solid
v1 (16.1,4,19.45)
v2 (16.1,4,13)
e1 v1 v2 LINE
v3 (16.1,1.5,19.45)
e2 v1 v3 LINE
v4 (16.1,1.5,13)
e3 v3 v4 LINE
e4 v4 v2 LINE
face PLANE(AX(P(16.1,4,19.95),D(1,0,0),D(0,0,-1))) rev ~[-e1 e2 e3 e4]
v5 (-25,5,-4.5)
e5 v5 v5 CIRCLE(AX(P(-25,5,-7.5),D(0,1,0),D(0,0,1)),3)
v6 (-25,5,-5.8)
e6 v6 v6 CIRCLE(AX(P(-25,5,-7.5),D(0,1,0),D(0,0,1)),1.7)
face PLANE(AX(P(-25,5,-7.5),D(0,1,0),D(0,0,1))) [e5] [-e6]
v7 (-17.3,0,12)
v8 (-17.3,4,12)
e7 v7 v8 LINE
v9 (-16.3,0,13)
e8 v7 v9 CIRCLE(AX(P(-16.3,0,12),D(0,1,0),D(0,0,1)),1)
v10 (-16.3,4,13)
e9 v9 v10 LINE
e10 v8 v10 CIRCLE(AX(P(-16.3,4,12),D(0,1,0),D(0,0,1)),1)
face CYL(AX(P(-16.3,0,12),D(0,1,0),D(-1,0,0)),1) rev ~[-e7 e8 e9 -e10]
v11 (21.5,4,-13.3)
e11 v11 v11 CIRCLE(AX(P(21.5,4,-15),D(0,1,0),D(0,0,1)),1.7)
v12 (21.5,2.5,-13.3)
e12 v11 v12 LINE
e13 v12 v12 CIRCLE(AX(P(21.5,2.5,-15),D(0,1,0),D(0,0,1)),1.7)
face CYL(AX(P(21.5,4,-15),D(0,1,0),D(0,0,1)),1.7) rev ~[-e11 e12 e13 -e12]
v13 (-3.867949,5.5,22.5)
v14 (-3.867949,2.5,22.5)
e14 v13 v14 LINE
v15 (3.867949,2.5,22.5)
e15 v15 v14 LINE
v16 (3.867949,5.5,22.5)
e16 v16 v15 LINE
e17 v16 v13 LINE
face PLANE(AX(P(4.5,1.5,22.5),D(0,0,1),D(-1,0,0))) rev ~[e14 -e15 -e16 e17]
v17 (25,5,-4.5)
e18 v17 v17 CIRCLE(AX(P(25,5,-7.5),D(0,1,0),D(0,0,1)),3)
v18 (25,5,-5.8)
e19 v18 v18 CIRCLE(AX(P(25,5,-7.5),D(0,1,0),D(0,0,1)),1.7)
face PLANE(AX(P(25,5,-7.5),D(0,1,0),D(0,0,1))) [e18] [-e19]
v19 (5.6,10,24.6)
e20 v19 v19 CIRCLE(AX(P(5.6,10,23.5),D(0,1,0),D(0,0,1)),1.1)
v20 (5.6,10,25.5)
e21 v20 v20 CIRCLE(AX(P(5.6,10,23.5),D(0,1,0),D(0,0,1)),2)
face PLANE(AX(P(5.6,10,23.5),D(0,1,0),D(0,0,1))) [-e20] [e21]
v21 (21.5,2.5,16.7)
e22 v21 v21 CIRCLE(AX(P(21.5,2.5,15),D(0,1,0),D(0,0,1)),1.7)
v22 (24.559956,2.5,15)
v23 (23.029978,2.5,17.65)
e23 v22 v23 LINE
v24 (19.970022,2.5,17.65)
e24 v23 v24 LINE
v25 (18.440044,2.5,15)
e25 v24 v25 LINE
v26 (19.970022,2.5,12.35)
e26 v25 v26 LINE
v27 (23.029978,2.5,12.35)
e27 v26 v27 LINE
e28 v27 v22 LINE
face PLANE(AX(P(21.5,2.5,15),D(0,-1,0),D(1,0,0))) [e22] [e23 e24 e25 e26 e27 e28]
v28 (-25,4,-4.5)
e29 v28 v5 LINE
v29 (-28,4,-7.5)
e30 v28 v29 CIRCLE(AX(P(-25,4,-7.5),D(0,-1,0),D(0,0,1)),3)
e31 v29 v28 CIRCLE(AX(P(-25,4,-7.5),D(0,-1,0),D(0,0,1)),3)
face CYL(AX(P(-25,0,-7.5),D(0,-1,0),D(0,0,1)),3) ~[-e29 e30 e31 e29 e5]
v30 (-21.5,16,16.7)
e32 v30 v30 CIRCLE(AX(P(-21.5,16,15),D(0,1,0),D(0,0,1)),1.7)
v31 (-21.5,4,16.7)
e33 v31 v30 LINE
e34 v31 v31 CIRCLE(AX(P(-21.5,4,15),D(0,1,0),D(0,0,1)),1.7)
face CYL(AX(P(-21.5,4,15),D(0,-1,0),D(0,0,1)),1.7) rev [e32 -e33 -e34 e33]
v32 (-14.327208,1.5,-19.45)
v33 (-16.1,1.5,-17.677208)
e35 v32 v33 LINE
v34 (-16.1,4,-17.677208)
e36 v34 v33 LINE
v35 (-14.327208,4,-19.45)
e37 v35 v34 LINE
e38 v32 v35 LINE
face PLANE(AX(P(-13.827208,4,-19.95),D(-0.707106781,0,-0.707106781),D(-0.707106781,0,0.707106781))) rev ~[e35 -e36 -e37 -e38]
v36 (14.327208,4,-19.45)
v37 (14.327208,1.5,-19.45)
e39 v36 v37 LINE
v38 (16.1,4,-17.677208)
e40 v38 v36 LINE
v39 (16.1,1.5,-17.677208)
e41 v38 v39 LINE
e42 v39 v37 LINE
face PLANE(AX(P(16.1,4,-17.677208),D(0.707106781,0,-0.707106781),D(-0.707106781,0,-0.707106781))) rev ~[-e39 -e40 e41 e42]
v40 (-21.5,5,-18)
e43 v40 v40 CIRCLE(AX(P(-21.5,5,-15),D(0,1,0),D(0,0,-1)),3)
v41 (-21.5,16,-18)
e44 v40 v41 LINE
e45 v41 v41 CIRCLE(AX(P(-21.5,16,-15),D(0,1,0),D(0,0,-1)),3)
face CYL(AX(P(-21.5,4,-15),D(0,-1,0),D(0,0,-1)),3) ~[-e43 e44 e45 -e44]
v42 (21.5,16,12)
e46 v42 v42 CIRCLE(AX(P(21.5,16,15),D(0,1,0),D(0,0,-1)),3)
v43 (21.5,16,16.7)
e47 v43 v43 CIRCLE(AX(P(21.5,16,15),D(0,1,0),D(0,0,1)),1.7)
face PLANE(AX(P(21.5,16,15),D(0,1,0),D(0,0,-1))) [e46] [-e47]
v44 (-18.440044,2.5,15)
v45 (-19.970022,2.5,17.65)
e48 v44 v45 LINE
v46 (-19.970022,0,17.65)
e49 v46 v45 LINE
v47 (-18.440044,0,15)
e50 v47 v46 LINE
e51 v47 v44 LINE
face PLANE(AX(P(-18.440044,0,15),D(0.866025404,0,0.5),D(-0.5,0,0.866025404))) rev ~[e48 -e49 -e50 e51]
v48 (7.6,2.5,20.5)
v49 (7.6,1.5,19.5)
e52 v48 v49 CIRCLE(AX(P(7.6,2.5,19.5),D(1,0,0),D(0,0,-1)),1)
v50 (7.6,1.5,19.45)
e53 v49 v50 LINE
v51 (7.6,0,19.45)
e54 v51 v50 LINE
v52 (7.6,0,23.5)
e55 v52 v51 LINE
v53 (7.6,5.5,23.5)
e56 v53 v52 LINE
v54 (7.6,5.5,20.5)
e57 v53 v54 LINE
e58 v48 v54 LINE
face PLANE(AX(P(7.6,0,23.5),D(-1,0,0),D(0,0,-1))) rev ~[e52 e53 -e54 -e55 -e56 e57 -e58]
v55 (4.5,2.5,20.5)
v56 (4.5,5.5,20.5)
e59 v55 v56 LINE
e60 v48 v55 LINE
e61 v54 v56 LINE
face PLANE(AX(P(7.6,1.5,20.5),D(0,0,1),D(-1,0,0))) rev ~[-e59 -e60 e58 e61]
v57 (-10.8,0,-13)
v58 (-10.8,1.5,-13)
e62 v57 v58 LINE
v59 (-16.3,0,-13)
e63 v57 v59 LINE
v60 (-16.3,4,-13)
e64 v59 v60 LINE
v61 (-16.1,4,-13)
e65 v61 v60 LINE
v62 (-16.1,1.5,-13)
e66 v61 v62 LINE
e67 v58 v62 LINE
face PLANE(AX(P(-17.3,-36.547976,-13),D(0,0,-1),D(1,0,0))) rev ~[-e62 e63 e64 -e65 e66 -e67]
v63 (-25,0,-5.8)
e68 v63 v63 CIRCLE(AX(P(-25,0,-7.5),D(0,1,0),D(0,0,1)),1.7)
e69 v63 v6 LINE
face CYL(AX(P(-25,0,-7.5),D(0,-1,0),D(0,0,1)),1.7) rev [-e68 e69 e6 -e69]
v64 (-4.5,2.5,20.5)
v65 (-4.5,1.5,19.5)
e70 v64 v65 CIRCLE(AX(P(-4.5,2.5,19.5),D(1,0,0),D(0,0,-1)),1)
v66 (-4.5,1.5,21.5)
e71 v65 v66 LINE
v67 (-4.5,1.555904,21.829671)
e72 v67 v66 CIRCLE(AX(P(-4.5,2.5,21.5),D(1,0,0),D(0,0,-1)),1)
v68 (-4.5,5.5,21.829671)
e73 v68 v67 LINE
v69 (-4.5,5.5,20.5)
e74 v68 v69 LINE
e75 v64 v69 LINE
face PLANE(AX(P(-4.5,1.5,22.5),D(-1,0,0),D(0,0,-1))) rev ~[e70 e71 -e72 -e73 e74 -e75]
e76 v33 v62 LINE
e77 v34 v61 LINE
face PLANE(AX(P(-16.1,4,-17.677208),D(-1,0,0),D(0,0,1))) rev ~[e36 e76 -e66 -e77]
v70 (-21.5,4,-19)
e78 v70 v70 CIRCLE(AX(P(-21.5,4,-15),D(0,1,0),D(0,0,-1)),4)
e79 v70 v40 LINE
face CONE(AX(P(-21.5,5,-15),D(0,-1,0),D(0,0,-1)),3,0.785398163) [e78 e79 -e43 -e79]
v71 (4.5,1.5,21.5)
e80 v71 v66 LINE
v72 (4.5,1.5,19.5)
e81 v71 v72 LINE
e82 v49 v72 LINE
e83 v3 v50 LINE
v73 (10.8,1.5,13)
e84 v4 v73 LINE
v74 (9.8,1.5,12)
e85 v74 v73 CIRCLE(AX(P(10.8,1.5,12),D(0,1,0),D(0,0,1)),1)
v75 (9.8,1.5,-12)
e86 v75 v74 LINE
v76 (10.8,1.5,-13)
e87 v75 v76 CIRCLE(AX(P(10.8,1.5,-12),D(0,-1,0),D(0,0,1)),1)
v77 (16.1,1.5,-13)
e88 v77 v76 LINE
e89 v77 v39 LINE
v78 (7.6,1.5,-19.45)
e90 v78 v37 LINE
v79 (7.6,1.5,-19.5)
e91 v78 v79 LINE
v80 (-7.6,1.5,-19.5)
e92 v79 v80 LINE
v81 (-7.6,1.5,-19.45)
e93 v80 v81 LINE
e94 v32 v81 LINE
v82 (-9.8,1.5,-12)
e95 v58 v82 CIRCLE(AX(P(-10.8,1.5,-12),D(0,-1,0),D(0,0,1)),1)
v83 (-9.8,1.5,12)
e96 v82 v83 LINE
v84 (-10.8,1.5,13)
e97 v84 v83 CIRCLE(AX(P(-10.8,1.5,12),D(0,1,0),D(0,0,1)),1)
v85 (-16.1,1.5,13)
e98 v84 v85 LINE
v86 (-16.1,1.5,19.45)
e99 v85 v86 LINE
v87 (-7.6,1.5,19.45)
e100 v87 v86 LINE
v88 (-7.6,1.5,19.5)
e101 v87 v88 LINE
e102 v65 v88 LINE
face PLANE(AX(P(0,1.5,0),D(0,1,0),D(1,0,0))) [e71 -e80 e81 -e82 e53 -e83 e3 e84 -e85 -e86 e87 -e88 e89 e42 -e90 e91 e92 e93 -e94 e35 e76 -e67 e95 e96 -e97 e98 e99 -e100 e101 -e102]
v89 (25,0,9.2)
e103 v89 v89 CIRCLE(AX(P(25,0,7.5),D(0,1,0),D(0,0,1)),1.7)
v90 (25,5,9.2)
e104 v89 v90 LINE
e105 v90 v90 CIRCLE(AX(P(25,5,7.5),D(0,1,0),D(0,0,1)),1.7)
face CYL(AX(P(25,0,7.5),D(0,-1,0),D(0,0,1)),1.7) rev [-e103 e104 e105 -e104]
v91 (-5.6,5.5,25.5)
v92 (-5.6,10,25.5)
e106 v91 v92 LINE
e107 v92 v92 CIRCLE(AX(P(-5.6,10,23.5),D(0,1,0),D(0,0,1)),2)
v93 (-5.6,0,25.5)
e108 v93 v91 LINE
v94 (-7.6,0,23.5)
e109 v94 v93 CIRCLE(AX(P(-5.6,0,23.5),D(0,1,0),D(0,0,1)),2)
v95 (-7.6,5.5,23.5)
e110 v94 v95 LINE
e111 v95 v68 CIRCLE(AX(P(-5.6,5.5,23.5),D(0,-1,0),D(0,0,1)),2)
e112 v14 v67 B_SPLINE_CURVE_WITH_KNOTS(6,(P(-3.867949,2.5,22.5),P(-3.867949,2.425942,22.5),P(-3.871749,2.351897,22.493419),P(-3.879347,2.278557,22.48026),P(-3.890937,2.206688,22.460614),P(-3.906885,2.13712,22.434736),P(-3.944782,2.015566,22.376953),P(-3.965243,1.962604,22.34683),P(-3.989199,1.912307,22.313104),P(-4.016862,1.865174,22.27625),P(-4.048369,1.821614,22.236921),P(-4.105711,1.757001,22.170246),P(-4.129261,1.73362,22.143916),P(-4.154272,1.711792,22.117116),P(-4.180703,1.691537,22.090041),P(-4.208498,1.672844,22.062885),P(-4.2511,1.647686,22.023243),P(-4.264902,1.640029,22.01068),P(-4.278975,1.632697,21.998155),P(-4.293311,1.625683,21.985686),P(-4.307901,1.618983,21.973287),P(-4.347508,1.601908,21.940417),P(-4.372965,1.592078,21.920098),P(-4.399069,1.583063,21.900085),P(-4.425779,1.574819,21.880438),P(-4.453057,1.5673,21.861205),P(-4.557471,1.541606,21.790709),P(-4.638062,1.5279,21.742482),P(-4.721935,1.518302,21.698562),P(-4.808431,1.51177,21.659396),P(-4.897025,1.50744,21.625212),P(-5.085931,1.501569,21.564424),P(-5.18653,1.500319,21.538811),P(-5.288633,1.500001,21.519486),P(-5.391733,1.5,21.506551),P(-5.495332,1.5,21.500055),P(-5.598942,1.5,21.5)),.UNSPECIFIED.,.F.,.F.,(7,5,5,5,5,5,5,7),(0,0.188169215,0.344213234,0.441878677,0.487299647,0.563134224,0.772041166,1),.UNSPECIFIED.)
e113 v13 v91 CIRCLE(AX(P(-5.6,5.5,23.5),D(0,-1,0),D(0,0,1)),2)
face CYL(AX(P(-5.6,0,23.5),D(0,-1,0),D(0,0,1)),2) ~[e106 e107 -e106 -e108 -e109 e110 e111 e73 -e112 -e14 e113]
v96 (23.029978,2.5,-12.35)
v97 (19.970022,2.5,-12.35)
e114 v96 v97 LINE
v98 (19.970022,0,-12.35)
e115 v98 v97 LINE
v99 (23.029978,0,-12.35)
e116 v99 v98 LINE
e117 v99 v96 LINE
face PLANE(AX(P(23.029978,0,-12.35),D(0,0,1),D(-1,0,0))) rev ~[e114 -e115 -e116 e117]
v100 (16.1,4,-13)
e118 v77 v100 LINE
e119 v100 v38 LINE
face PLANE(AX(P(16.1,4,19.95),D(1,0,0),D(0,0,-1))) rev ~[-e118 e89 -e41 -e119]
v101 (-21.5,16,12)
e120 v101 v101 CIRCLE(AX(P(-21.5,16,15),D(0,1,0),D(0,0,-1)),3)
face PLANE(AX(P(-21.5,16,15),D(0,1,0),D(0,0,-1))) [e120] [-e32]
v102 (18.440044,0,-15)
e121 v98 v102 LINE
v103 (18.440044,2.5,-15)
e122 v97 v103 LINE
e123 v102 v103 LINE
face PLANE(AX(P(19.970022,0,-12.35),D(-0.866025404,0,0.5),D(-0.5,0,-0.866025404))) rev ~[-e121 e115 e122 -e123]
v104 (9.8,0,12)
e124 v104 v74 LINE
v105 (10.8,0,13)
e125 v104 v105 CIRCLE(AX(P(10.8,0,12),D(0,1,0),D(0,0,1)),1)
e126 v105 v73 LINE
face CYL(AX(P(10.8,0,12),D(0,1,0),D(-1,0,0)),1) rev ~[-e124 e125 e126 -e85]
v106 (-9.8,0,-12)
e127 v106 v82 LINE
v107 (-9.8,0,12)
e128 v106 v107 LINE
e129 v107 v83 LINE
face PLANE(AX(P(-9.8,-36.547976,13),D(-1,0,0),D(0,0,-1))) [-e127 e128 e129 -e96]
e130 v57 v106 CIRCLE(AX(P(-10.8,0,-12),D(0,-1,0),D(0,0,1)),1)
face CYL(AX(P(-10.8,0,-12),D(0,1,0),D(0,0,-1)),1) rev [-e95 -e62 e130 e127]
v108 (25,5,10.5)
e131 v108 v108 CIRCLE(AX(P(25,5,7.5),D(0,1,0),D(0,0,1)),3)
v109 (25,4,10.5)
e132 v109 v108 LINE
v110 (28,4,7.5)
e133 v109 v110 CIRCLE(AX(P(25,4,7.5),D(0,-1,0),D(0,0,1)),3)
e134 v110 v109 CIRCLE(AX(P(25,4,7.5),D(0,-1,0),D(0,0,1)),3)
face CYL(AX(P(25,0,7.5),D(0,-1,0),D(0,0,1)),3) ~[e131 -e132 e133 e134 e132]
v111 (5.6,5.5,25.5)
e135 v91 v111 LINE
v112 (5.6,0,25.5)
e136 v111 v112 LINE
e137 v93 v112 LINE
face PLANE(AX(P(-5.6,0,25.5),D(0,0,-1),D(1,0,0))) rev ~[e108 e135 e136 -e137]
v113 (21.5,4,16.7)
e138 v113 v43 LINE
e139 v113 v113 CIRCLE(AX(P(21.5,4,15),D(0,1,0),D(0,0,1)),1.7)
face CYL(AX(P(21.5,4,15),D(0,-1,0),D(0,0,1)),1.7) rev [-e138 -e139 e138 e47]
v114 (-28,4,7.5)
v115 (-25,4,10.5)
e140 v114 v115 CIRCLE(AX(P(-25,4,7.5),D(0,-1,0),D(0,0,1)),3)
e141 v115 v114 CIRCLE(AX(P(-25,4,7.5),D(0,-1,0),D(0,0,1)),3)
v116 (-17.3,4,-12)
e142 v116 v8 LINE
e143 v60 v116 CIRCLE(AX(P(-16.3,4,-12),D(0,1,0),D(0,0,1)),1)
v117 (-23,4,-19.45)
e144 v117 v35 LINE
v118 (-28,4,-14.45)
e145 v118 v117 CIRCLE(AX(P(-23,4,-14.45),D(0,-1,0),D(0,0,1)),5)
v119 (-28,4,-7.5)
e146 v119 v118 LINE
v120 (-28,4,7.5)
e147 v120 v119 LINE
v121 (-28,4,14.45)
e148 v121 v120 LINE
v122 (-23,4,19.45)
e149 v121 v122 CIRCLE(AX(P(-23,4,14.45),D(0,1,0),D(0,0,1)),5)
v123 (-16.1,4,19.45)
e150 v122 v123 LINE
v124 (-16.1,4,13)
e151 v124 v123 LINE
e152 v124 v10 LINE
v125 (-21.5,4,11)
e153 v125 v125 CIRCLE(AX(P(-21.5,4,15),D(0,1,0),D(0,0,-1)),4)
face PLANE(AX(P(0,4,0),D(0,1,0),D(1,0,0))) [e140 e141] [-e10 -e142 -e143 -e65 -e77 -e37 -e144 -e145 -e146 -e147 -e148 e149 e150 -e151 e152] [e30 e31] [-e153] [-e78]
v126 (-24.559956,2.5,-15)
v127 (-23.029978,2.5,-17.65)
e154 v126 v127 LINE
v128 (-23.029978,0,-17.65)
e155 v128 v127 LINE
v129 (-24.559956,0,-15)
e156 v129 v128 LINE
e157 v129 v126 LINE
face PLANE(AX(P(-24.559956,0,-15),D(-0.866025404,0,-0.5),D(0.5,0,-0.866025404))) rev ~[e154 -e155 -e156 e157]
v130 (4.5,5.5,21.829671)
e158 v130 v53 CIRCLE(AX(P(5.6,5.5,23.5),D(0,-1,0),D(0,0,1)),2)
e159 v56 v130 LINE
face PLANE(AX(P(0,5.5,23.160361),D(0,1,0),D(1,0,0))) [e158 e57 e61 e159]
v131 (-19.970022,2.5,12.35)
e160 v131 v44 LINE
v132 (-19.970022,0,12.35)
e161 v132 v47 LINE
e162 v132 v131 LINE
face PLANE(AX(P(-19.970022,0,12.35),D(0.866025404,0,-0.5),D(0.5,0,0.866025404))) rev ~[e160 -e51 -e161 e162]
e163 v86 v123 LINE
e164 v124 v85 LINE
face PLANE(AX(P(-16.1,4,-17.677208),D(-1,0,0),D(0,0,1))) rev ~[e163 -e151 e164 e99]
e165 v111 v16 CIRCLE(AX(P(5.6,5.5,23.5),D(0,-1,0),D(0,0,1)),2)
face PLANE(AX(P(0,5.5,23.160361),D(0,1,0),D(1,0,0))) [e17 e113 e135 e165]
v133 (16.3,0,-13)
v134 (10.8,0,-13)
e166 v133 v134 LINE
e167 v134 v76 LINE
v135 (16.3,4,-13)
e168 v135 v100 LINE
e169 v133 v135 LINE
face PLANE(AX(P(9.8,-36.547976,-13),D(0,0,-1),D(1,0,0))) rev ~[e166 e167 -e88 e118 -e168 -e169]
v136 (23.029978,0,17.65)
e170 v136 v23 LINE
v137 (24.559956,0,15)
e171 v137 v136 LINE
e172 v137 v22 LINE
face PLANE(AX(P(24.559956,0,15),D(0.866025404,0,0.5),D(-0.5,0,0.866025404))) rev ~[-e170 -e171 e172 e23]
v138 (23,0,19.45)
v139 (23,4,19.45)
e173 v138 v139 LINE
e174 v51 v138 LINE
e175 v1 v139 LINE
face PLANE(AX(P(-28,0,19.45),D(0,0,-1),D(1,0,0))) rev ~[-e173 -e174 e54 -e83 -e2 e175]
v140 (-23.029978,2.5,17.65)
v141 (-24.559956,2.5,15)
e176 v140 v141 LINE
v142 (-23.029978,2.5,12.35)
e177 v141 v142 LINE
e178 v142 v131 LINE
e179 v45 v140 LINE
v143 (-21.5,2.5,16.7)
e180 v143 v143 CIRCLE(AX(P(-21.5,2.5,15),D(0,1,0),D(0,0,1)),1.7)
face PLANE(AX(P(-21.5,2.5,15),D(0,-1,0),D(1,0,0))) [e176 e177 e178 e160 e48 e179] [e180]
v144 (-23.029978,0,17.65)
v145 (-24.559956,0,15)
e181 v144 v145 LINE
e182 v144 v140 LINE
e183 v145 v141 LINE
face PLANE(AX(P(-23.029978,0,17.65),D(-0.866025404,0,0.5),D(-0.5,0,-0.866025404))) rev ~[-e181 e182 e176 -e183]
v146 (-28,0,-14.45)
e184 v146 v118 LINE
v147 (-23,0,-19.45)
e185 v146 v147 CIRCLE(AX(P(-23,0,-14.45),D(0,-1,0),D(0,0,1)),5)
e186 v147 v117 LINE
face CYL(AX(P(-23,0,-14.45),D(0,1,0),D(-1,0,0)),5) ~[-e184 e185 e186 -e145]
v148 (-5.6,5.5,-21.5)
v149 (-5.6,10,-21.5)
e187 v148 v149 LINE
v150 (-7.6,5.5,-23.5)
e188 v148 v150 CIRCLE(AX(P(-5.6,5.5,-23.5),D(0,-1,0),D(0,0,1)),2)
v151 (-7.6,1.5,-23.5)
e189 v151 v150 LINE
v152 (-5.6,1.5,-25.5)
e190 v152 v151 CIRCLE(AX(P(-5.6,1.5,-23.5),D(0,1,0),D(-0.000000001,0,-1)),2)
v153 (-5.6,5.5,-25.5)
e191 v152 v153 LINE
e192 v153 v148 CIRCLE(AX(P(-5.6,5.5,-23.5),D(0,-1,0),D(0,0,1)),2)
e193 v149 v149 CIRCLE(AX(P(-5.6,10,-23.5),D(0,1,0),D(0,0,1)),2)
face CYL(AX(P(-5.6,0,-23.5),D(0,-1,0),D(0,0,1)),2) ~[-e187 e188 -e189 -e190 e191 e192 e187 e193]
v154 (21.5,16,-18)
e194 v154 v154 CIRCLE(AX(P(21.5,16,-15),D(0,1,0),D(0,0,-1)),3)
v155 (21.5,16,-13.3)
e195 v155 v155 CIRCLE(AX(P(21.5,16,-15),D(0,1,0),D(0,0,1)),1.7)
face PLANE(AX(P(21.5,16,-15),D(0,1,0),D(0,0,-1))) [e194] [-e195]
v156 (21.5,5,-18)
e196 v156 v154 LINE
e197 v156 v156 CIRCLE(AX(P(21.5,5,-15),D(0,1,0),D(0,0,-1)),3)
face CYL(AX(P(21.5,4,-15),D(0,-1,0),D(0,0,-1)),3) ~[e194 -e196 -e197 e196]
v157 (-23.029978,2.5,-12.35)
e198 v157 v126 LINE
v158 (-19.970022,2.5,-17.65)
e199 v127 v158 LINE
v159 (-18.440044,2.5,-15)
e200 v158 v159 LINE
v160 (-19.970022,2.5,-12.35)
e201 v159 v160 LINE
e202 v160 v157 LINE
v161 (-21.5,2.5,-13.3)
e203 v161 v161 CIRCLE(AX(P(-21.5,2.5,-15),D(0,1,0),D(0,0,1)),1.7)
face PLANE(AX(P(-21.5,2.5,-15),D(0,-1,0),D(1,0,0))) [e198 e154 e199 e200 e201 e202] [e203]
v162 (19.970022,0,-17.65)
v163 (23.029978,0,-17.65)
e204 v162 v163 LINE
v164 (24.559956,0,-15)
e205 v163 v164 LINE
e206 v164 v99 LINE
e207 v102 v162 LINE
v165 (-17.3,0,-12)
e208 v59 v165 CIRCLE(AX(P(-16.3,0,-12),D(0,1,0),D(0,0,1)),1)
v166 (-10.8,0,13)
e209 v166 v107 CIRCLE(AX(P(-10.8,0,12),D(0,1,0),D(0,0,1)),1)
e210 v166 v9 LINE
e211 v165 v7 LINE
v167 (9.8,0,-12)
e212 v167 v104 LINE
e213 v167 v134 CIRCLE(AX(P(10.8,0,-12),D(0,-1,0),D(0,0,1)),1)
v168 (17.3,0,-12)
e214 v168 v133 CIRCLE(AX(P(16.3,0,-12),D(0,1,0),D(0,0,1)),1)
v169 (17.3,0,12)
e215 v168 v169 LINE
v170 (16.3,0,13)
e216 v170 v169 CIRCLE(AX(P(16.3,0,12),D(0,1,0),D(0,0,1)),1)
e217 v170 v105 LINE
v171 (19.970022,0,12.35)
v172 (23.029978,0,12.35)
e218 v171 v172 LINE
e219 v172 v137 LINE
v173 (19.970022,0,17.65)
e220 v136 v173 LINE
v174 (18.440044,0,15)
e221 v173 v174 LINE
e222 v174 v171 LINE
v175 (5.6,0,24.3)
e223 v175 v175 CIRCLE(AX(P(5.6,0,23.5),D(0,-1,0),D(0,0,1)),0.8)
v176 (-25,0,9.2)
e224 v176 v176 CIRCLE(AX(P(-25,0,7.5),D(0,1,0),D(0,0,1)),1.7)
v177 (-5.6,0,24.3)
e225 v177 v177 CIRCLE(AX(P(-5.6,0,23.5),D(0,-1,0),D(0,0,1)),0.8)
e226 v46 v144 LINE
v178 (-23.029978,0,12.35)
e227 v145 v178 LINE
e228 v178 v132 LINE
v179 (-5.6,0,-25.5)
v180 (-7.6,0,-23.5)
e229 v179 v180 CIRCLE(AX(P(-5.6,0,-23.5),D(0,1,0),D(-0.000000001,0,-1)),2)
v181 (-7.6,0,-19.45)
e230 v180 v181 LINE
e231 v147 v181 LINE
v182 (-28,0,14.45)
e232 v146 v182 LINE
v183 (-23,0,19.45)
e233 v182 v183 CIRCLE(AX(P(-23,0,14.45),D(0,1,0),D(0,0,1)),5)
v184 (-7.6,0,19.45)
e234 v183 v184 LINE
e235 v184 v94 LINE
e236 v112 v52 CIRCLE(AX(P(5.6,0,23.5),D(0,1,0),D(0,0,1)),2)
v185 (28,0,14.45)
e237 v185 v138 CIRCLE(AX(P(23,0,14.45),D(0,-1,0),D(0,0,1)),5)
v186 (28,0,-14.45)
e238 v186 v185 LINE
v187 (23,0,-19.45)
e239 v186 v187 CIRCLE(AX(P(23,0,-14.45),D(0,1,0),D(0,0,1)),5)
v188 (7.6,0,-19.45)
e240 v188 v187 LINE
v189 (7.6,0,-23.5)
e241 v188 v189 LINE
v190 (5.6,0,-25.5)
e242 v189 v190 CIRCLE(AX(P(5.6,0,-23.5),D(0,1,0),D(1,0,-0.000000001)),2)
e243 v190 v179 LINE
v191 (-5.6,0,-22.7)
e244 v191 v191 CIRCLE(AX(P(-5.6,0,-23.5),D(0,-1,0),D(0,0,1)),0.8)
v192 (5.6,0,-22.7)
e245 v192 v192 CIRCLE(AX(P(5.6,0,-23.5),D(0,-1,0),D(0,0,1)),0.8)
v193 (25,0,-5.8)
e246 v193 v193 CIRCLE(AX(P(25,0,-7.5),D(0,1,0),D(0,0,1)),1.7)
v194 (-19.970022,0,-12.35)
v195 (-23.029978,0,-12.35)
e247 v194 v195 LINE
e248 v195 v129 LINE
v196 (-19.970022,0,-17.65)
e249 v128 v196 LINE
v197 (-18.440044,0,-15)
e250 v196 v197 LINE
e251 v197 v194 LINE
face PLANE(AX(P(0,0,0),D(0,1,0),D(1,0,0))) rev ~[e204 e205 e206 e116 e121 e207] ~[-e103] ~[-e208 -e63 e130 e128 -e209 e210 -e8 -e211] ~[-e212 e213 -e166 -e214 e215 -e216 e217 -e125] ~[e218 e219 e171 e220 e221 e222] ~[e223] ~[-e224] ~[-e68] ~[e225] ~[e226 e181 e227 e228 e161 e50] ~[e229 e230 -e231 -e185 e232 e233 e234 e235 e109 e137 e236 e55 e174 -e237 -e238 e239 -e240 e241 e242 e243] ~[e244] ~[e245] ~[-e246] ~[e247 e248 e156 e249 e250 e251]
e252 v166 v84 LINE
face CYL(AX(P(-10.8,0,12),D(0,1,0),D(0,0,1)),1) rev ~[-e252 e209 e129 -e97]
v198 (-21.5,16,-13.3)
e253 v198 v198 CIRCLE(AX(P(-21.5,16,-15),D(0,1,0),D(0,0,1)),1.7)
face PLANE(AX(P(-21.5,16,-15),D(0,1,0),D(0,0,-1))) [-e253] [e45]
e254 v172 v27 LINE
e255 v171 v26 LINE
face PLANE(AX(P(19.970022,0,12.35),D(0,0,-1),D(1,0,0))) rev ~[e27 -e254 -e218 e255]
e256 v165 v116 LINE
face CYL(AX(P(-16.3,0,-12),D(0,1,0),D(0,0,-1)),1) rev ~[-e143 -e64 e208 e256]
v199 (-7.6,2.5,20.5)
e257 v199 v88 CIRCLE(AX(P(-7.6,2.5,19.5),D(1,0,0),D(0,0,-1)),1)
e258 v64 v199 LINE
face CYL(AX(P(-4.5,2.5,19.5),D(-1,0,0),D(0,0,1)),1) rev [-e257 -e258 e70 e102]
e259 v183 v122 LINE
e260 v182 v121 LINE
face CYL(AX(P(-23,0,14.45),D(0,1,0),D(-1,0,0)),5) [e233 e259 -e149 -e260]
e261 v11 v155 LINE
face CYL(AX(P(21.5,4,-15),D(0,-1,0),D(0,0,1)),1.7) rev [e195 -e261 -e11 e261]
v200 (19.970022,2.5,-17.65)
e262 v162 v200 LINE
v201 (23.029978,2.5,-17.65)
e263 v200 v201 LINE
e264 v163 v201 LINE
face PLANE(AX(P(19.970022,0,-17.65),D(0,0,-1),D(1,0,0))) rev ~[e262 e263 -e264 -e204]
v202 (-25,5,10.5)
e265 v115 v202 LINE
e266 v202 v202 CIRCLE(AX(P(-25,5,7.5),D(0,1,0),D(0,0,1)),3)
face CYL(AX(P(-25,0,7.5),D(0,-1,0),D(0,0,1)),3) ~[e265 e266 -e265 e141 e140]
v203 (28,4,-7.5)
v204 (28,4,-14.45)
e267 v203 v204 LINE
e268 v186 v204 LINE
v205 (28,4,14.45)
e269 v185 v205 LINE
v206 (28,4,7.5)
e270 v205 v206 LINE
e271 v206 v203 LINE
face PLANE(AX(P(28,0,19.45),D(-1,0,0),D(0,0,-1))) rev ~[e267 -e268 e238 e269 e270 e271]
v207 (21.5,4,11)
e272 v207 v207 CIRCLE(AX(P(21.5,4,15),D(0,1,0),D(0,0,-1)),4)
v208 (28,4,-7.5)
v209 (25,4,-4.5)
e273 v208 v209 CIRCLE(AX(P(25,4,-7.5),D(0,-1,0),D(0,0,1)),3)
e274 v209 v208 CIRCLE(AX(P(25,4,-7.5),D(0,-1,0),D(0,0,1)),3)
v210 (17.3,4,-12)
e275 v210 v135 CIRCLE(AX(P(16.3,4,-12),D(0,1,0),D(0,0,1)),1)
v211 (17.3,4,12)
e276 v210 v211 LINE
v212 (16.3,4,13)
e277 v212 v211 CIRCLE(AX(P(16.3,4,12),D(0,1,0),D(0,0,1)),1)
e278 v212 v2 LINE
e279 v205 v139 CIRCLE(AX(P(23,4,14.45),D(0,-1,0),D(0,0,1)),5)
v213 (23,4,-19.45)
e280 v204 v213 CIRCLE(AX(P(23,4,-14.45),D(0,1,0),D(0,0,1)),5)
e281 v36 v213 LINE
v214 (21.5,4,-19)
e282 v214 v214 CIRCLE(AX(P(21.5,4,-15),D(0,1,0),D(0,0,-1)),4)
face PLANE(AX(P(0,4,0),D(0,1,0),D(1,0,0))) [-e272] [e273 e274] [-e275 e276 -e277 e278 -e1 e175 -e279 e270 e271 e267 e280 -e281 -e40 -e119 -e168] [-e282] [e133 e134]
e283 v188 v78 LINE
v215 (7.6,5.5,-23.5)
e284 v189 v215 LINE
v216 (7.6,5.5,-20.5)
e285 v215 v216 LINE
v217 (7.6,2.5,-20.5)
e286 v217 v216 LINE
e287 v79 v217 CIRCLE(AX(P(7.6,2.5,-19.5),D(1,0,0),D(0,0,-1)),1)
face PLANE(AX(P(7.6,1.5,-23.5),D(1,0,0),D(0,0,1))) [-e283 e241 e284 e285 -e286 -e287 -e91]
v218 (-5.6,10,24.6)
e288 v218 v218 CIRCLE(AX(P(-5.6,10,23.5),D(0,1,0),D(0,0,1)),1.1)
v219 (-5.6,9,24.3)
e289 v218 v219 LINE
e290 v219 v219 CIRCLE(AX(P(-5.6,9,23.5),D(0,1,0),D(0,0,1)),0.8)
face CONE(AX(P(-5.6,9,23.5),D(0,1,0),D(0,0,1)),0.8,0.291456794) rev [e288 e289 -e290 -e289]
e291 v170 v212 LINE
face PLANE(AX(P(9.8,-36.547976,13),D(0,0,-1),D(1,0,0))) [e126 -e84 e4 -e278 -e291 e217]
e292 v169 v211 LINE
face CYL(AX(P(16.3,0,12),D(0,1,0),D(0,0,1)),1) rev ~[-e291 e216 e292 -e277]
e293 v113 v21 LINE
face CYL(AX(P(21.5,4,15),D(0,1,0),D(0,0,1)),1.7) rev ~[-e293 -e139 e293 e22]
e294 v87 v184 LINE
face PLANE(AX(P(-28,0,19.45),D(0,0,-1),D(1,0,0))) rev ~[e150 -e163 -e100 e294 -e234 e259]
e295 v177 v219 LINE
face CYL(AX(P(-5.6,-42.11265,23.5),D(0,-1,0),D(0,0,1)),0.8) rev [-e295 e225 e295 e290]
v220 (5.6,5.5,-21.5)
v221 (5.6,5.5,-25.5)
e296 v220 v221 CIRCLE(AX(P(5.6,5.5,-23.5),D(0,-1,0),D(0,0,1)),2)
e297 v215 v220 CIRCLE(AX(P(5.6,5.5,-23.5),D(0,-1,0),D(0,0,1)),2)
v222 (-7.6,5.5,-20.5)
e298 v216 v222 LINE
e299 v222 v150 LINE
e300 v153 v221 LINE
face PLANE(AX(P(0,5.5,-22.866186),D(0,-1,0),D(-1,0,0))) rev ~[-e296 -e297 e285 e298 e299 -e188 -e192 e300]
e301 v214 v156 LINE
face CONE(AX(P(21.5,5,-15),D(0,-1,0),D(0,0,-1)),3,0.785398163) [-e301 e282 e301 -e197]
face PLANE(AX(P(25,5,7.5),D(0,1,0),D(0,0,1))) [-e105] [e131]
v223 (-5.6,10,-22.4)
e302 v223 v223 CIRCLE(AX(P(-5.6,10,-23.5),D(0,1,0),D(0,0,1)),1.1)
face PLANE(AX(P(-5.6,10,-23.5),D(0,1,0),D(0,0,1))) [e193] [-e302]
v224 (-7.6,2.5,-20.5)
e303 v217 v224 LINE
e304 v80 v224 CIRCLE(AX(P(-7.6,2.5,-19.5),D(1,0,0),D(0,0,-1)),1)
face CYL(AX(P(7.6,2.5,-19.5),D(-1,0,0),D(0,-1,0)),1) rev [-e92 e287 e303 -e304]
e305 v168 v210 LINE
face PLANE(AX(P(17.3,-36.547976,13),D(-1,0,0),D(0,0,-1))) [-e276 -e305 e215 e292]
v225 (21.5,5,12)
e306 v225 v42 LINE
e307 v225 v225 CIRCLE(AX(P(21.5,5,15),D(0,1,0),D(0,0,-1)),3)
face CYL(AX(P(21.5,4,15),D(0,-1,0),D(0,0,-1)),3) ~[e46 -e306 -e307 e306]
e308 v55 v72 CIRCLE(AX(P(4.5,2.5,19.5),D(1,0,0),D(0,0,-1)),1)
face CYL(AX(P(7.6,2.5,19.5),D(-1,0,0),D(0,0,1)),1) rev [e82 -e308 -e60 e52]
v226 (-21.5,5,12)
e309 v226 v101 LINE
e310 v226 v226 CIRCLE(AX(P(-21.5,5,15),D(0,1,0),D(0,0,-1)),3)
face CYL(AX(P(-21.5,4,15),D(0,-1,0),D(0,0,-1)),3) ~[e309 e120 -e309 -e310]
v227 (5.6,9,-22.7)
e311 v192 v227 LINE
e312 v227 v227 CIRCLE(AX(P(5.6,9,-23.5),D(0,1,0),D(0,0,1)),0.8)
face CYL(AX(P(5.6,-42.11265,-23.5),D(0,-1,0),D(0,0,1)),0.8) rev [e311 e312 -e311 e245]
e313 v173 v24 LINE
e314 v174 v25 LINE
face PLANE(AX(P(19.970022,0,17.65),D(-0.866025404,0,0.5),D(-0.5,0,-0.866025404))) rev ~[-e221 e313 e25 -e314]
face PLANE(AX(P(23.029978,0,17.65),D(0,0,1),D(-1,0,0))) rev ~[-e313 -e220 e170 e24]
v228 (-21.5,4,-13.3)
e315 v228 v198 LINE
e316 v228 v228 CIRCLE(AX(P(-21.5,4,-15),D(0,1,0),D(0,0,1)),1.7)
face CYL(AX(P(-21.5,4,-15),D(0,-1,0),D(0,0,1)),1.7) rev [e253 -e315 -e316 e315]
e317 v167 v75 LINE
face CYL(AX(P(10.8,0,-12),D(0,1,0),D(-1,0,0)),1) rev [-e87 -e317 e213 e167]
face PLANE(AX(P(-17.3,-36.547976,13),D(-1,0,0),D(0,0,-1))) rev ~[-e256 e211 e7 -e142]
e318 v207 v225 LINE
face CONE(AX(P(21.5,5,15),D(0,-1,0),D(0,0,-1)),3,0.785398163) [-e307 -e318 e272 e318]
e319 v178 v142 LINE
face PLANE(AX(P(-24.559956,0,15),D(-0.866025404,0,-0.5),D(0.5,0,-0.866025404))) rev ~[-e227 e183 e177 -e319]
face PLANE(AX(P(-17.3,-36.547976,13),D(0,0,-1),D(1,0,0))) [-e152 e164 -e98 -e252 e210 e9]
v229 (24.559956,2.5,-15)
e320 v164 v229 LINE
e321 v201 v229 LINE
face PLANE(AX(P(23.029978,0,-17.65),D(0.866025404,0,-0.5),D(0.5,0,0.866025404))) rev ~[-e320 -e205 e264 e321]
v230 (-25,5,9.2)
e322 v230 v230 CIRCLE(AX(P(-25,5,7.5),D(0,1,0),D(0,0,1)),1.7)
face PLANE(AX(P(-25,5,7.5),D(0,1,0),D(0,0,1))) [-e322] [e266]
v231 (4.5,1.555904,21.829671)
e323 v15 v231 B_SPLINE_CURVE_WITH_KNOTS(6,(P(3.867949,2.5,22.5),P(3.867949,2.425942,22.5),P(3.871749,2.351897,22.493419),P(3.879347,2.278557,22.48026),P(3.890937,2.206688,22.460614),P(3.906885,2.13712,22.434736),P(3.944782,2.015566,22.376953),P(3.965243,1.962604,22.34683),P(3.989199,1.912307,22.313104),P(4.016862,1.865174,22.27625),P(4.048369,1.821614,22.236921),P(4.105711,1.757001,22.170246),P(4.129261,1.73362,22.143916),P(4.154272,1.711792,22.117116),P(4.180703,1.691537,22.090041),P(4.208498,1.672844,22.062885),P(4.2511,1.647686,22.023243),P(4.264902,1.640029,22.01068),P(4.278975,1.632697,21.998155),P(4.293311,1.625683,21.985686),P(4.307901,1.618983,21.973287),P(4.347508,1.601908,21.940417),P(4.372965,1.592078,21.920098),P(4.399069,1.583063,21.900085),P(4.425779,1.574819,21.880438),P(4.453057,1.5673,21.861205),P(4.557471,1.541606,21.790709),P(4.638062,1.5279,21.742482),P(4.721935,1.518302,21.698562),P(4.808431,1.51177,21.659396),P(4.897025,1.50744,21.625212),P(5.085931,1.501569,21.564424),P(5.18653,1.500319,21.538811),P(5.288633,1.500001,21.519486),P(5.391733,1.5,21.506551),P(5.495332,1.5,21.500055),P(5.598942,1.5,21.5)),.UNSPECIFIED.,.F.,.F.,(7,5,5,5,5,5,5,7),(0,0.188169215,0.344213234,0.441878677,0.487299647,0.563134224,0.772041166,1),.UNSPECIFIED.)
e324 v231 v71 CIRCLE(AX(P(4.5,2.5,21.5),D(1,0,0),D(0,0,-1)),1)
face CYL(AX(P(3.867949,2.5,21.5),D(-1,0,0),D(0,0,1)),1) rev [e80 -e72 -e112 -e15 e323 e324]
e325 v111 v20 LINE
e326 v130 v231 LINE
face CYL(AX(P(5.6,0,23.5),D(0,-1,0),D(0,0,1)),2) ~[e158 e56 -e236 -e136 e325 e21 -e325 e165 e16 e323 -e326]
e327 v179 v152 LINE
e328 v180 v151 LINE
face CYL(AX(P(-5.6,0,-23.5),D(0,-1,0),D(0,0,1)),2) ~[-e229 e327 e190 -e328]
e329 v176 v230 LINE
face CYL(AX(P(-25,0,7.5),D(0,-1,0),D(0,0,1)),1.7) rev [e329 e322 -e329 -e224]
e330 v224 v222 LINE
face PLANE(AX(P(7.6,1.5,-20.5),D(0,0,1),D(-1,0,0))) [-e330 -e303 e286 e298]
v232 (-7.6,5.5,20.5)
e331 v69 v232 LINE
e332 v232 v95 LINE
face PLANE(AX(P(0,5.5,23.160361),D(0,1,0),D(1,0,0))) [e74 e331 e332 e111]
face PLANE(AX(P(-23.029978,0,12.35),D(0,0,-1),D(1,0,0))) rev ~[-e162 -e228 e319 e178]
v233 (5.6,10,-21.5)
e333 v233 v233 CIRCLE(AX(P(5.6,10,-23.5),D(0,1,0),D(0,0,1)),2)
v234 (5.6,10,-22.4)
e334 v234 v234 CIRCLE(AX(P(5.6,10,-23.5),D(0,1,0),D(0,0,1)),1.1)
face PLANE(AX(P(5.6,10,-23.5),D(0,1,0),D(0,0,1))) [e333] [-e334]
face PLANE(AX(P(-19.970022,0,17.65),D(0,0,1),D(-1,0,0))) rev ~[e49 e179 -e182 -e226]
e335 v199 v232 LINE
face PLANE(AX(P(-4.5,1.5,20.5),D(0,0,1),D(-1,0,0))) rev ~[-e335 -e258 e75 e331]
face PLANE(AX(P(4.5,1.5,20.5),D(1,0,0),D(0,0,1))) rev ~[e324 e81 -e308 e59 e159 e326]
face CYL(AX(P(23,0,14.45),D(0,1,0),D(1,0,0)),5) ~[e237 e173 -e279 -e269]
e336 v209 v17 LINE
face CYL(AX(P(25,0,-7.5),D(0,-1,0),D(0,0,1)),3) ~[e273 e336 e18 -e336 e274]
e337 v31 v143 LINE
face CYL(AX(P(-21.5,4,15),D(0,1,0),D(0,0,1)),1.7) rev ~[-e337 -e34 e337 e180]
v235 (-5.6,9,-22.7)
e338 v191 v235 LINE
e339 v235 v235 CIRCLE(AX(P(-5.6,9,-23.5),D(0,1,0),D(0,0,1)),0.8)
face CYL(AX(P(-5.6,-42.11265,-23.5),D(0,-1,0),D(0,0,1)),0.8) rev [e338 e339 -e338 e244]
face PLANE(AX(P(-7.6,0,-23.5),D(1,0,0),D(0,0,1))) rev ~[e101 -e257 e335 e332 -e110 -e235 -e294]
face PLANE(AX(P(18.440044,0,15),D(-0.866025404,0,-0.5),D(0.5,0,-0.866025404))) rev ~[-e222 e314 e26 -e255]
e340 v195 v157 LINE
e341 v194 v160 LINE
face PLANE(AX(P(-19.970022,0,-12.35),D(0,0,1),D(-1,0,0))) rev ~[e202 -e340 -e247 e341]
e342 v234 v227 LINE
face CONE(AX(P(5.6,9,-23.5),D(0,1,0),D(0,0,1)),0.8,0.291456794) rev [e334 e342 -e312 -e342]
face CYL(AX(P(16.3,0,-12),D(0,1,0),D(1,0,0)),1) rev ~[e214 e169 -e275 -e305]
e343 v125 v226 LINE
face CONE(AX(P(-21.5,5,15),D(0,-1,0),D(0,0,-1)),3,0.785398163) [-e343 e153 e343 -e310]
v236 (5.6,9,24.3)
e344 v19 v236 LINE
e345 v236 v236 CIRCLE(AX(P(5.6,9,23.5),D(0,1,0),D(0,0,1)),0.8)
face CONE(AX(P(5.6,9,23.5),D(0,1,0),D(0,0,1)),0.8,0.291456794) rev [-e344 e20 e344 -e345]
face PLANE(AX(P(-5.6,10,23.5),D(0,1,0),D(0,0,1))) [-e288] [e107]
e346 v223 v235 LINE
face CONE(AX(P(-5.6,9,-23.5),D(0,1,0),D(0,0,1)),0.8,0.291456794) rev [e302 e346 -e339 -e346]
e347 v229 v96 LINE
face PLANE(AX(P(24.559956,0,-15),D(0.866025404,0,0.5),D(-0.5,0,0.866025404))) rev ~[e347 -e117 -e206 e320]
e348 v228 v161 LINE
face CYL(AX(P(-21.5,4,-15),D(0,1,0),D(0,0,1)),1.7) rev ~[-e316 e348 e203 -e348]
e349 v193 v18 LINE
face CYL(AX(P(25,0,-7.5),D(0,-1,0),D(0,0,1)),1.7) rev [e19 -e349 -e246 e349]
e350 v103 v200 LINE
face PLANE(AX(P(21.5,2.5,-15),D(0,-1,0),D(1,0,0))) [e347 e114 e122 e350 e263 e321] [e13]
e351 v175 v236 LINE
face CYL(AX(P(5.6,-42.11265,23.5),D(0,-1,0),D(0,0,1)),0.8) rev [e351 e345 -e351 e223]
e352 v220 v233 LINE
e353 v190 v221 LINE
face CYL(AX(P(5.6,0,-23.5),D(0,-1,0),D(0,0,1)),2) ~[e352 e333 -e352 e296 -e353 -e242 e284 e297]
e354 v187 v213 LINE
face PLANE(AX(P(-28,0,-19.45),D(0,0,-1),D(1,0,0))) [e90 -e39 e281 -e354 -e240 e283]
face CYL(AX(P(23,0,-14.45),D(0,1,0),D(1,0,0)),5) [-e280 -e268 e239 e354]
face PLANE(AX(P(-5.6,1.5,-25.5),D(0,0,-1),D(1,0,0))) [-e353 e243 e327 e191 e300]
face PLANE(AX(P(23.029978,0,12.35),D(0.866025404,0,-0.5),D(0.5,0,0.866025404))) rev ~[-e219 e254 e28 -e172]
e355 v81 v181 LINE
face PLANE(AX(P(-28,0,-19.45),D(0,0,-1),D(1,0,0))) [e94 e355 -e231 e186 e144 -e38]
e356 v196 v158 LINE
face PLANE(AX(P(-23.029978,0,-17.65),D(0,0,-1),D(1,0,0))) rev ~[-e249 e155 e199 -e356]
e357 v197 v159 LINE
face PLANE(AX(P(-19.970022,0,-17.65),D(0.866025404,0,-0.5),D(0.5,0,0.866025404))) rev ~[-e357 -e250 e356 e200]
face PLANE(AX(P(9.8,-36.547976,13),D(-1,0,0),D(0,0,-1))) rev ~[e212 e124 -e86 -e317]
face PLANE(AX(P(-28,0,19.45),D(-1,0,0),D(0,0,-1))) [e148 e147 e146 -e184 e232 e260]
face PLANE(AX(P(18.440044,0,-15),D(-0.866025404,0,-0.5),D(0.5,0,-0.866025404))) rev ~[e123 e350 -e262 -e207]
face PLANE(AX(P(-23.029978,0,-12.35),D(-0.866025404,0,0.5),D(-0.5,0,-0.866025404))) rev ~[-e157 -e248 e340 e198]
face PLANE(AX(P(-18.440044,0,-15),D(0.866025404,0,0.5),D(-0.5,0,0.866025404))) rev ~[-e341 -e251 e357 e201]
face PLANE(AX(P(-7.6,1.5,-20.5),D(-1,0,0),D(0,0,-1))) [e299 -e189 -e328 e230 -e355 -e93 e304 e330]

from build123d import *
from OCP.BRepFilletAPI import BRepFilletAPI_MakeChamfer

# Parameters (mm, degrees)
SKETCH2_R               = 3
SKETCH2_R_2             = 1.7
BOSS_EXTRUDE1_DEPTH     = 5
BOSS_EXTRUDE1_2_DEPTH   = 5
BOSS_EXTRUDE1_3_DEPTH   = 5
BOSS_EXTRUDE1_4_DEPTH   = 5
SKETCH3_W               = 56
SKETCH3_H               = 38.9
SKETCH3_R               = 1.7
BOSS_EXTRUDE2_DEPTH     = 4
FILLET1_R               = 5
CUT_EXTRUDE2_START      = 4
CUT_EXTRUDE2_DEPTH      = 2.5
CUT_EXTRUDE3_DEPTH      = 2.5
SKETCH5_R               = 3
SKETCH5_R_2             = 1.7
BOSS_EXTRUDE3_DEPTH     = 12
SKETCH5_2_R             = 1.7
CUT_EXTRUDE4_DEPTH      = 37.14280703
CUT_EXTRUDE5_DEPTH      = 2.5
CHAMFER1_SIZE           = 1
CHAMFER2_SIZE           = 1
CUT_EXTRUDE6_DEPTH      = 38.047975653
CUT_EXTRUDE6_DEPTH_BACK = 38.047975653
SKETCH7_W               = 7.5
SKETCH7_H               = 26
FILLET3_R               = 1
SKETCH8_R               = 2
SKETCH8_R_2             = 0.8
BOSS_EXTRUDE4_DEPTH     = 10
BOSS_EXTRUDE4_2_DEPTH   = 10
BOSS_EXTRUDE4_3_DEPTH   = 10
BOSS_EXTRUDE4_4_DEPTH   = 10
BOSS_EXTRUDE5_DEPTH     = 1.5
BOSS_EXTRUDE7_DEPTH     = 4
FILLET4_R               = 1
CUT_EXTRUDE9_DEPTH      = 42.112650183
CUT_EXTRUDE9_DEPTH_BACK = 42.112650183
SKETCH8_2_R             = 0.8
CHAMFER3_SIZE           = 0.3
CHAMFER3_SIZE2          = 1


with BuildPart() as part:
    # Sketch2 → Boss-Extrude1 (new body)
    with BuildSketch(Plane(origin=(0, 0, 0), x_dir=(1, 0, 0), z_dir=(0, 1, 0))):
        with Locations(Location((-25, 7.5, 0), (0, 0, 270))):
            Circle(SKETCH2_R)
        with Locations(Location((-25, 7.5, 0), (0, 0, 270))):
            Circle(SKETCH2_R_2, mode=Mode.SUBTRACT)
    extrude(amount=BOSS_EXTRUDE1_DEPTH)



with BuildPart() as body_2:
    # Sketch2 → Boss-Extrude1 2 (new body)
    with BuildSketch(Plane(origin=(0, 0, 0), x_dir=(1, 0, 0), z_dir=(0, 1, 0))):
        with Locations(Location((-25, -7.5, 0), (0, 0, 270))):
            Circle(SKETCH2_R)
        with Locations(Location((-25, -7.5, 0), (0, 0, 270))):
            Circle(SKETCH2_R_2, mode=Mode.SUBTRACT)
    extrude(amount=BOSS_EXTRUDE1_2_DEPTH)


with BuildPart() as body_3:
    # Sketch2 → Boss-Extrude1 3 (new body)
    with BuildSketch(Plane(origin=(0, 0, 0), x_dir=(1, 0, 0), z_dir=(0, 1, 0))):
        with Locations(Location((25, -7.5, 0), (0, 0, 270))):
            Circle(SKETCH2_R)
        with Locations(Location((25, -7.5, 0), (0, 0, 270))):
            Circle(SKETCH2_R_2, mode=Mode.SUBTRACT)
    extrude(amount=BOSS_EXTRUDE1_3_DEPTH)


with BuildPart() as body_4:
    # Sketch2 → Boss-Extrude1 4 (new body)
    with BuildSketch(Plane(origin=(0, 0, 0), x_dir=(1, 0, 0), z_dir=(0, 1, 0))):
        with Locations(Location((25, 7.5, 0), (0, 0, 270))):
            Circle(SKETCH2_R)
        with Locations(Location((25, 7.5, 0), (0, 0, 270))):
            Circle(SKETCH2_R_2, mode=Mode.SUBTRACT)
    extrude(amount=BOSS_EXTRUDE1_4_DEPTH)


with BuildPart() as part_1:
    add(part.part)

    add(body_2.part)  # Boss-Extrude2 merges body 2

    add(body_3.part)  # Boss-Extrude2 merges body 3

    add(body_4.part)  # Boss-Extrude2 merges body 4
    # Sketch3 → Boss-Extrude2 (add)
    with BuildSketch(Plane(origin=(0, 0, 0), x_dir=(1, 0, 0), z_dir=(0, 1, 0))):
        Rectangle(SKETCH3_W, SKETCH3_H)
        with Locations(Location((-25, 7.5, 0), (0, 0, 270))):
            Circle(SKETCH3_R, mode=Mode.SUBTRACT)
        with Locations(Location((25, 7.5, 0), (0, 0, 270))):
            Circle(SKETCH3_R, mode=Mode.SUBTRACT)
        with Locations(Location((25, -7.5, 0), (0, 0, 270))):
            Circle(SKETCH3_R, mode=Mode.SUBTRACT)
        with Locations(Location((-25, -7.5, 0), (0, 0, 270))):
            Circle(SKETCH3_R, mode=Mode.SUBTRACT)
    extrude(amount=BOSS_EXTRUDE2_DEPTH)

    # Fillet1
    fillet1_edges = [part_1.edges().sort_by_distance(p)[0] for p in [
        (28, 2, 19.45),
        (28, 2, -19.45),
        (-28, 2, -19.45),
        (-28, 2, 19.45),
    ]]
    fillet(fillet1_edges, radius=FILLET1_R)

    # Sketch1 → Cut-Extrude2 (cut)
    with BuildSketch(Plane(origin=(0, 0, 0), x_dir=(1, 0, 0), z_dir=(0, 1, 0)).offset(CUT_EXTRUDE2_START)):
        Polygon((13.620101013, 19.45), (15.6, 17.470101013), (15.6, -19.45), (-15.6, -19.45), (-15.6, 17.470101013), (-13.620101013, 19.45), align=None)
    extrude(amount=-CUT_EXTRUDE2_DEPTH, mode=Mode.SUBTRACT)

    # Sketch4 → Cut-Extrude3 (cut)
    with BuildSketch(Plane(origin=(0, 4, 0), x_dir=(1, 0, 0), z_dir=(0, 1, 0))):
        Polygon((-16.1, -19.95), (16.1, -19.95), (16.1, 17.677207794), (13.827207794, 19.95), (-13.827207794, 19.95), (-16.1, 17.677207794), align=None)
    extrude(amount=-CUT_EXTRUDE3_DEPTH, mode=Mode.SUBTRACT)

    # Sketch5 → Boss-Extrude3 (add)
    # profile 1 of 4: a face of its own
    with BuildSketch(Plane(origin=(0, 4, 0), x_dir=(1, 0, 0), z_dir=(0, 1, 0))):
        with Locations(Location((-21.5, 15, 0), (0, 0, 90))):
            Circle(SKETCH5_R)
        with Locations(Location((-21.5, 15, 0), (0, 0, 270))):
            Circle(SKETCH5_R_2, mode=Mode.SUBTRACT)
    # profile 2 of 4: a face of its own
    with BuildSketch(Plane(origin=(0, 4, 0), x_dir=(1, 0, 0), z_dir=(0, 1, 0))):
        with Locations(Location((21.5, 15, 0), (0, 0, 90))):
            Circle(SKETCH5_R)
        with Locations(Location((21.5, 15, 0), (0, 0, 270))):
            Circle(SKETCH5_R_2, mode=Mode.SUBTRACT)
    # profile 3 of 4: a face of its own
    with BuildSketch(Plane(origin=(0, 4, 0), x_dir=(1, 0, 0), z_dir=(0, 1, 0))):
        with Locations(Location((21.5, -15, 0), (0, 0, 90))):
            Circle(SKETCH5_R)
        with Locations(Location((21.5, -15, 0), (0, 0, 270))):
            Circle(SKETCH5_R_2, mode=Mode.SUBTRACT)
    # profile 4 of 4: a face of its own
    with BuildSketch(Plane(origin=(0, 4, 0), x_dir=(1, 0, 0), z_dir=(0, 1, 0))):
        with Locations(Location((-21.5, -15, 0), (0, 0, 90))):
            Circle(SKETCH5_R)
        with Locations(Location((-21.5, -15, 0), (0, 0, 270))):
            Circle(SKETCH5_R_2, mode=Mode.SUBTRACT)
    extrude(amount=BOSS_EXTRUDE3_DEPTH)

    # Sketch5<2> → Cut-Extrude4 (cut, through all)
    with BuildSketch(Plane(origin=(0, 4, 0), x_dir=(1, 0, 0), z_dir=(0, 1, 0))):
        with Locations(Location((-21.5, 15, 0), (0, 0, 270))):
            Circle(SKETCH5_2_R)
        with Locations(Location((21.5, 15, 0), (0, 0, 270))):
            Circle(SKETCH5_2_R)
        with Locations(Location((21.5, -15, 0), (0, 0, 270))):
            Circle(SKETCH5_2_R)
        with Locations(Location((-21.5, -15, 0), (0, 0, 270))):
            Circle(SKETCH5_2_R)
    extrude(amount=-CUT_EXTRUDE4_DEPTH, mode=Mode.SUBTRACT)

    # Sketch6 → Cut-Extrude5 (cut)
    with BuildSketch(Plane.XZ):
        Polygon((-19.970021787, 12.35), (-18.440043573, 15), (-19.970021787, 17.65), (-23.029978213, 17.65), (-24.559956427, 15), (-23.029978213, 12.35), align=None)
        Polygon((23.029978213, 12.35), (24.559956427, 15), (23.029978213, 17.65), (19.970021787, 17.65), (18.440043573, 15), (19.970021787, 12.35), align=None)
        Polygon((24.559956427, -15), (23.029978213, -12.35), (19.970021787, -12.35), (18.440043573, -15), (19.970021787, -17.65), (23.029978213, -17.65), align=None)
        Polygon((-18.440043573, -15), (-19.970021787, -12.35), (-23.029978213, -12.35), (-24.559956427, -15), (-23.029978213, -17.65), (-19.970021787, -17.65), align=None)
    extrude(amount=-CUT_EXTRUDE5_DEPTH, mode=Mode.SUBTRACT)

    # Chamfer1
    chamfer1_edges = [part_1.edges().sort_by_distance(p)[0] for p in [
        (-21.5, 4, 18),
    ]]
    chamfer(chamfer1_edges, length=CHAMFER1_SIZE)

    # Chamfer2
    chamfer2_edges = [part_1.edges().sort_by_distance(p)[0] for p in [
        (-21.5, 4, -12),
        (21.5, 4, -12),
        (21.5, 4, 18),
    ]]
    chamfer(chamfer2_edges, length=CHAMFER2_SIZE)

    # Sketch7 → Cut-Extrude6 (cut, two sides: drawn at the far end of the back side and taken through both)
    with BuildSketch(Plane(origin=(0, 1.5, 0), x_dir=(1, 0, 0), z_dir=(0, 1, 0)).offset(-CUT_EXTRUDE6_DEPTH_BACK)):
        with Locations((-13.55, 0)):
            Rectangle(SKETCH7_W, SKETCH7_H)
        with Locations((13.55, 0)):
            Rectangle(SKETCH7_W, SKETCH7_H)
    extrude(amount=CUT_EXTRUDE6_DEPTH + CUT_EXTRUDE6_DEPTH_BACK, mode=Mode.SUBTRACT)

    # Fillet3
    fillet3_edges = [part_1.edges().sort_by_distance(p)[0] for p in [
        (-17.3, 2, 13),
        (-9.8, 0.75, -13),
        (-17.3, 2, -13),
        (-9.8, 0.75, 13),
        (17.3, 2, -13),
        (9.8, 0.75, 13),
        (17.3, 2, 13),
        (9.8, 0.75, -13),
    ]]
    fillet(fillet3_edges, radius=FILLET3_R)



with BuildPart() as body_2_2:
    # Sketch8 → Boss-Extrude4 (new body)
    with BuildSketch(Plane(origin=(0, 0, 0), x_dir=(1, 0, 0), z_dir=(0, 1, 0))):
        with Locations(Location((-5.6, 23.5, 0), (0, 0, 270))):
            Circle(SKETCH8_R)
        with Locations(Location((-5.6, 23.5, 0), (0, 0, 270))):
            Circle(SKETCH8_R_2, mode=Mode.SUBTRACT)
    extrude(amount=BOSS_EXTRUDE4_DEPTH)


with BuildPart() as body_3_2:
    # Sketch8 → Boss-Extrude4 2 (new body)
    with BuildSketch(Plane(origin=(0, 0, 0), x_dir=(1, 0, 0), z_dir=(0, 1, 0))):
        with Locations(Location((5.6, 23.5, 0), (0, 0, 270))):
            Circle(SKETCH8_R)
        with Locations(Location((5.6, 23.5, 0), (0, 0, 270))):
            Circle(SKETCH8_R_2, mode=Mode.SUBTRACT)
    extrude(amount=BOSS_EXTRUDE4_2_DEPTH)


with BuildPart() as body_4_2:
    # Sketch8 → Boss-Extrude4 3 (new body)
    with BuildSketch(Plane(origin=(0, 0, 0), x_dir=(1, 0, 0), z_dir=(0, 1, 0))):
        with Locations(Location((-5.6, -23.5, 0), (0, 0, 270))):
            Circle(SKETCH8_R)
        with Locations(Location((-5.6, -23.5, 0), (0, 0, 270))):
            Circle(SKETCH8_R_2, mode=Mode.SUBTRACT)
    extrude(amount=BOSS_EXTRUDE4_3_DEPTH)


with BuildPart() as body_5:
    # Sketch8 → Boss-Extrude4 4 (new body)
    with BuildSketch(Plane(origin=(0, 0, 0), x_dir=(1, 0, 0), z_dir=(0, 1, 0))):
        with Locations(Location((5.6, -23.5, 0), (0, 0, 270))):
            Circle(SKETCH8_R)
        with Locations(Location((5.6, -23.5, 0), (0, 0, 270))):
            Circle(SKETCH8_R_2, mode=Mode.SUBTRACT)
    extrude(amount=BOSS_EXTRUDE4_4_DEPTH)


with BuildPart() as part_2:
    add(part_1.part)

    add(body_2_2.part)  # Boss-Extrude5 merges body 2 2

    add(body_3_2.part)  # Boss-Extrude5 merges body 3 2

    add(body_4_2.part)  # Boss-Extrude5 merges body 4 2

    add(body_5.part)  # Boss-Extrude5 merges body 5
    # Sketch9 → Boss-Extrude5 (add)
    with BuildSketch(Plane(origin=(0, 0, 0), x_dir=(1, 0, 0), z_dir=(0, 1, 0))):
        with BuildLine():
            Line((-5.6, -25.5), (5.6, -25.5))
            ThreePointArc((5.6, -25.5), (7.014213562, -24.914213562), (7.6, -23.5))
            Line((7.6, -23.5), (7.6, 23.5))
            ThreePointArc((7.6, 23.5), (7.014213562, 24.914213562), (5.6, 25.5))
            Line((5.6, 25.5), (-5.6, 25.5))
            ThreePointArc((-5.6, 25.5), (-7.014213562, 24.914213562), (-7.6, 23.5))
            Line((-7.6, 23.5), (-7.6, -23.5))
            ThreePointArc((-7.6, -23.5), (-7.014213562, -24.914213562), (-5.6, -25.5))
        make_face()
    extrude(amount=BOSS_EXTRUDE5_DEPTH)

    # Sketch10 → Boss-Extrude7 (add)
    with BuildSketch(Plane(origin=(0, 1.5, 0), x_dir=(1, 0, 0), z_dir=(0, 1, 0))):
        with BuildLine():
            Line((7.6, 23.5), (7.6, 20.5))
            Line((7.6, 20.5), (-7.6, 20.5))
            Line((-7.6, 20.5), (-7.6, 23.5))
            ThreePointArc((-7.6, 23.5), (-7.014213562, 24.914213562), (-5.6, 25.5))
            Line((-5.6, 25.5), (5.6, 25.5))
            ThreePointArc((5.6, 25.5), (7.014213562, 24.914213562), (7.6, 23.5))
        make_face()
        with BuildLine():
            Line((-5.6, -25.5), (5.6, -25.5))
            ThreePointArc((5.6, -25.5), (7.014213562, -24.914213562), (7.6, -23.5))
            Line((7.6, -23.5), (7.6, -20.5))
            Line((7.6, -20.5), (4.5, -20.5))
            Line((4.5, -20.5), (4.5, -22.5))
            Line((4.5, -22.5), (-4.5, -22.5))
            Line((-4.5, -22.5), (-4.5, -20.5))
            Line((-4.5, -20.5), (-7.6, -20.5))
            Line((-7.6, -20.5), (-7.6, -23.5))
            ThreePointArc((-7.6, -23.5), (-7.014213562, -24.914213562), (-5.6, -25.5))
        make_face()
    extrude(amount=BOSS_EXTRUDE7_DEPTH)

    # Fillet4
    fillet4_edges = [part_2.edges().sort_by_distance(p)[0] for p in [
        (0, 1.5, -20.5),
        (0, 1.5, 22.5),
        (-6.05, 1.5, 20.5),
        (6.05, 1.5, 20.5),
    ]]
    fillet(fillet4_edges, radius=FILLET4_R)

    # Sketch8<2> → Cut-Extrude9 (cut, two sides: drawn at the far end of the back side and taken through both)
    with BuildSketch(Plane(origin=(0, 0, 0), x_dir=(1, 0, 0), z_dir=(0, 1, 0)).offset(-CUT_EXTRUDE9_DEPTH_BACK)):
        with Locations(Location((-5.6, 23.5, 0), (0, 0, 270))):
            Circle(SKETCH8_2_R)
        with Locations(Location((-5.6, -23.5, 0), (0, 0, 270))):
            Circle(SKETCH8_2_R)
        with Locations(Location((5.6, -23.5, 0), (0, 0, 270))):
            Circle(SKETCH8_2_R)
        with Locations(Location((5.6, 23.5, 0), (0, 0, 270))):
            Circle(SKETCH8_2_R)
    extrude(amount=CUT_EXTRUDE9_DEPTH + CUT_EXTRUDE9_DEPTH_BACK, mode=Mode.SUBTRACT)

    # Chamfer3: one chamfer whose edges measure the first distance from different faces: ONE call of the kernel's chamfer builder (chamfer() names one face for all edges)
    chamfer3_edges_1 = [part_2.edges().sort_by_distance(p)[0] for p in [
        (-5.6, 10, -24.3),
    ]]
    chamfer3_side_1 = [part_2.faces().sort_by_distance(p)[0] for p in [
        (-5.6, 10, -25.443431458),
    ]]
    chamfer3_edges_2 = [part_2.edges().sort_by_distance(p)[0] for p in [
        (5.6, 10, -24.3),
    ]]
    chamfer3_side_2 = [part_2.faces().sort_by_distance(p)[0] for p in [
        (5.6, 10, -25.443431458),
    ]]
    chamfer3_edges_3 = [part_2.edges().sort_by_distance(p)[0] for p in [
        (-5.6, 10, 22.7),
    ]]
    chamfer3_side_3 = [part_2.faces().sort_by_distance(p)[0] for p in [
        (-5.6, 10, 21.556568542),
    ]]
    chamfer3_edges_4 = [part_2.edges().sort_by_distance(p)[0] for p in [
        (5.6, 10, 22.7),
    ]]
    chamfer3_side_4 = [part_2.faces().sort_by_distance(p)[0] for p in [
        (5.6, 10, 21.556568542),
    ]]
    chamfer3 = BRepFilletAPI_MakeChamfer(part_2.part.solid().wrapped)
    for e in chamfer3_edges_1:
        chamfer3.Add(CHAMFER3_SIZE, CHAMFER3_SIZE2, e.wrapped, chamfer3_side_1[0].wrapped)  # the first distance lies on this face
    for e in chamfer3_edges_2:
        chamfer3.Add(CHAMFER3_SIZE, CHAMFER3_SIZE2, e.wrapped, chamfer3_side_2[0].wrapped)  # the first distance lies on this face
    for e in chamfer3_edges_3:
        chamfer3.Add(CHAMFER3_SIZE, CHAMFER3_SIZE2, e.wrapped, chamfer3_side_3[0].wrapped)  # the first distance lies on this face
    for e in chamfer3_edges_4:
        chamfer3.Add(CHAMFER3_SIZE, CHAMFER3_SIZE2, e.wrapped, chamfer3_side_4[0].wrapped)  # the first distance lies on this face
    add(Compound.cast(chamfer3.Shape()), mode=Mode.REPLACE)


solid = part_2.part
